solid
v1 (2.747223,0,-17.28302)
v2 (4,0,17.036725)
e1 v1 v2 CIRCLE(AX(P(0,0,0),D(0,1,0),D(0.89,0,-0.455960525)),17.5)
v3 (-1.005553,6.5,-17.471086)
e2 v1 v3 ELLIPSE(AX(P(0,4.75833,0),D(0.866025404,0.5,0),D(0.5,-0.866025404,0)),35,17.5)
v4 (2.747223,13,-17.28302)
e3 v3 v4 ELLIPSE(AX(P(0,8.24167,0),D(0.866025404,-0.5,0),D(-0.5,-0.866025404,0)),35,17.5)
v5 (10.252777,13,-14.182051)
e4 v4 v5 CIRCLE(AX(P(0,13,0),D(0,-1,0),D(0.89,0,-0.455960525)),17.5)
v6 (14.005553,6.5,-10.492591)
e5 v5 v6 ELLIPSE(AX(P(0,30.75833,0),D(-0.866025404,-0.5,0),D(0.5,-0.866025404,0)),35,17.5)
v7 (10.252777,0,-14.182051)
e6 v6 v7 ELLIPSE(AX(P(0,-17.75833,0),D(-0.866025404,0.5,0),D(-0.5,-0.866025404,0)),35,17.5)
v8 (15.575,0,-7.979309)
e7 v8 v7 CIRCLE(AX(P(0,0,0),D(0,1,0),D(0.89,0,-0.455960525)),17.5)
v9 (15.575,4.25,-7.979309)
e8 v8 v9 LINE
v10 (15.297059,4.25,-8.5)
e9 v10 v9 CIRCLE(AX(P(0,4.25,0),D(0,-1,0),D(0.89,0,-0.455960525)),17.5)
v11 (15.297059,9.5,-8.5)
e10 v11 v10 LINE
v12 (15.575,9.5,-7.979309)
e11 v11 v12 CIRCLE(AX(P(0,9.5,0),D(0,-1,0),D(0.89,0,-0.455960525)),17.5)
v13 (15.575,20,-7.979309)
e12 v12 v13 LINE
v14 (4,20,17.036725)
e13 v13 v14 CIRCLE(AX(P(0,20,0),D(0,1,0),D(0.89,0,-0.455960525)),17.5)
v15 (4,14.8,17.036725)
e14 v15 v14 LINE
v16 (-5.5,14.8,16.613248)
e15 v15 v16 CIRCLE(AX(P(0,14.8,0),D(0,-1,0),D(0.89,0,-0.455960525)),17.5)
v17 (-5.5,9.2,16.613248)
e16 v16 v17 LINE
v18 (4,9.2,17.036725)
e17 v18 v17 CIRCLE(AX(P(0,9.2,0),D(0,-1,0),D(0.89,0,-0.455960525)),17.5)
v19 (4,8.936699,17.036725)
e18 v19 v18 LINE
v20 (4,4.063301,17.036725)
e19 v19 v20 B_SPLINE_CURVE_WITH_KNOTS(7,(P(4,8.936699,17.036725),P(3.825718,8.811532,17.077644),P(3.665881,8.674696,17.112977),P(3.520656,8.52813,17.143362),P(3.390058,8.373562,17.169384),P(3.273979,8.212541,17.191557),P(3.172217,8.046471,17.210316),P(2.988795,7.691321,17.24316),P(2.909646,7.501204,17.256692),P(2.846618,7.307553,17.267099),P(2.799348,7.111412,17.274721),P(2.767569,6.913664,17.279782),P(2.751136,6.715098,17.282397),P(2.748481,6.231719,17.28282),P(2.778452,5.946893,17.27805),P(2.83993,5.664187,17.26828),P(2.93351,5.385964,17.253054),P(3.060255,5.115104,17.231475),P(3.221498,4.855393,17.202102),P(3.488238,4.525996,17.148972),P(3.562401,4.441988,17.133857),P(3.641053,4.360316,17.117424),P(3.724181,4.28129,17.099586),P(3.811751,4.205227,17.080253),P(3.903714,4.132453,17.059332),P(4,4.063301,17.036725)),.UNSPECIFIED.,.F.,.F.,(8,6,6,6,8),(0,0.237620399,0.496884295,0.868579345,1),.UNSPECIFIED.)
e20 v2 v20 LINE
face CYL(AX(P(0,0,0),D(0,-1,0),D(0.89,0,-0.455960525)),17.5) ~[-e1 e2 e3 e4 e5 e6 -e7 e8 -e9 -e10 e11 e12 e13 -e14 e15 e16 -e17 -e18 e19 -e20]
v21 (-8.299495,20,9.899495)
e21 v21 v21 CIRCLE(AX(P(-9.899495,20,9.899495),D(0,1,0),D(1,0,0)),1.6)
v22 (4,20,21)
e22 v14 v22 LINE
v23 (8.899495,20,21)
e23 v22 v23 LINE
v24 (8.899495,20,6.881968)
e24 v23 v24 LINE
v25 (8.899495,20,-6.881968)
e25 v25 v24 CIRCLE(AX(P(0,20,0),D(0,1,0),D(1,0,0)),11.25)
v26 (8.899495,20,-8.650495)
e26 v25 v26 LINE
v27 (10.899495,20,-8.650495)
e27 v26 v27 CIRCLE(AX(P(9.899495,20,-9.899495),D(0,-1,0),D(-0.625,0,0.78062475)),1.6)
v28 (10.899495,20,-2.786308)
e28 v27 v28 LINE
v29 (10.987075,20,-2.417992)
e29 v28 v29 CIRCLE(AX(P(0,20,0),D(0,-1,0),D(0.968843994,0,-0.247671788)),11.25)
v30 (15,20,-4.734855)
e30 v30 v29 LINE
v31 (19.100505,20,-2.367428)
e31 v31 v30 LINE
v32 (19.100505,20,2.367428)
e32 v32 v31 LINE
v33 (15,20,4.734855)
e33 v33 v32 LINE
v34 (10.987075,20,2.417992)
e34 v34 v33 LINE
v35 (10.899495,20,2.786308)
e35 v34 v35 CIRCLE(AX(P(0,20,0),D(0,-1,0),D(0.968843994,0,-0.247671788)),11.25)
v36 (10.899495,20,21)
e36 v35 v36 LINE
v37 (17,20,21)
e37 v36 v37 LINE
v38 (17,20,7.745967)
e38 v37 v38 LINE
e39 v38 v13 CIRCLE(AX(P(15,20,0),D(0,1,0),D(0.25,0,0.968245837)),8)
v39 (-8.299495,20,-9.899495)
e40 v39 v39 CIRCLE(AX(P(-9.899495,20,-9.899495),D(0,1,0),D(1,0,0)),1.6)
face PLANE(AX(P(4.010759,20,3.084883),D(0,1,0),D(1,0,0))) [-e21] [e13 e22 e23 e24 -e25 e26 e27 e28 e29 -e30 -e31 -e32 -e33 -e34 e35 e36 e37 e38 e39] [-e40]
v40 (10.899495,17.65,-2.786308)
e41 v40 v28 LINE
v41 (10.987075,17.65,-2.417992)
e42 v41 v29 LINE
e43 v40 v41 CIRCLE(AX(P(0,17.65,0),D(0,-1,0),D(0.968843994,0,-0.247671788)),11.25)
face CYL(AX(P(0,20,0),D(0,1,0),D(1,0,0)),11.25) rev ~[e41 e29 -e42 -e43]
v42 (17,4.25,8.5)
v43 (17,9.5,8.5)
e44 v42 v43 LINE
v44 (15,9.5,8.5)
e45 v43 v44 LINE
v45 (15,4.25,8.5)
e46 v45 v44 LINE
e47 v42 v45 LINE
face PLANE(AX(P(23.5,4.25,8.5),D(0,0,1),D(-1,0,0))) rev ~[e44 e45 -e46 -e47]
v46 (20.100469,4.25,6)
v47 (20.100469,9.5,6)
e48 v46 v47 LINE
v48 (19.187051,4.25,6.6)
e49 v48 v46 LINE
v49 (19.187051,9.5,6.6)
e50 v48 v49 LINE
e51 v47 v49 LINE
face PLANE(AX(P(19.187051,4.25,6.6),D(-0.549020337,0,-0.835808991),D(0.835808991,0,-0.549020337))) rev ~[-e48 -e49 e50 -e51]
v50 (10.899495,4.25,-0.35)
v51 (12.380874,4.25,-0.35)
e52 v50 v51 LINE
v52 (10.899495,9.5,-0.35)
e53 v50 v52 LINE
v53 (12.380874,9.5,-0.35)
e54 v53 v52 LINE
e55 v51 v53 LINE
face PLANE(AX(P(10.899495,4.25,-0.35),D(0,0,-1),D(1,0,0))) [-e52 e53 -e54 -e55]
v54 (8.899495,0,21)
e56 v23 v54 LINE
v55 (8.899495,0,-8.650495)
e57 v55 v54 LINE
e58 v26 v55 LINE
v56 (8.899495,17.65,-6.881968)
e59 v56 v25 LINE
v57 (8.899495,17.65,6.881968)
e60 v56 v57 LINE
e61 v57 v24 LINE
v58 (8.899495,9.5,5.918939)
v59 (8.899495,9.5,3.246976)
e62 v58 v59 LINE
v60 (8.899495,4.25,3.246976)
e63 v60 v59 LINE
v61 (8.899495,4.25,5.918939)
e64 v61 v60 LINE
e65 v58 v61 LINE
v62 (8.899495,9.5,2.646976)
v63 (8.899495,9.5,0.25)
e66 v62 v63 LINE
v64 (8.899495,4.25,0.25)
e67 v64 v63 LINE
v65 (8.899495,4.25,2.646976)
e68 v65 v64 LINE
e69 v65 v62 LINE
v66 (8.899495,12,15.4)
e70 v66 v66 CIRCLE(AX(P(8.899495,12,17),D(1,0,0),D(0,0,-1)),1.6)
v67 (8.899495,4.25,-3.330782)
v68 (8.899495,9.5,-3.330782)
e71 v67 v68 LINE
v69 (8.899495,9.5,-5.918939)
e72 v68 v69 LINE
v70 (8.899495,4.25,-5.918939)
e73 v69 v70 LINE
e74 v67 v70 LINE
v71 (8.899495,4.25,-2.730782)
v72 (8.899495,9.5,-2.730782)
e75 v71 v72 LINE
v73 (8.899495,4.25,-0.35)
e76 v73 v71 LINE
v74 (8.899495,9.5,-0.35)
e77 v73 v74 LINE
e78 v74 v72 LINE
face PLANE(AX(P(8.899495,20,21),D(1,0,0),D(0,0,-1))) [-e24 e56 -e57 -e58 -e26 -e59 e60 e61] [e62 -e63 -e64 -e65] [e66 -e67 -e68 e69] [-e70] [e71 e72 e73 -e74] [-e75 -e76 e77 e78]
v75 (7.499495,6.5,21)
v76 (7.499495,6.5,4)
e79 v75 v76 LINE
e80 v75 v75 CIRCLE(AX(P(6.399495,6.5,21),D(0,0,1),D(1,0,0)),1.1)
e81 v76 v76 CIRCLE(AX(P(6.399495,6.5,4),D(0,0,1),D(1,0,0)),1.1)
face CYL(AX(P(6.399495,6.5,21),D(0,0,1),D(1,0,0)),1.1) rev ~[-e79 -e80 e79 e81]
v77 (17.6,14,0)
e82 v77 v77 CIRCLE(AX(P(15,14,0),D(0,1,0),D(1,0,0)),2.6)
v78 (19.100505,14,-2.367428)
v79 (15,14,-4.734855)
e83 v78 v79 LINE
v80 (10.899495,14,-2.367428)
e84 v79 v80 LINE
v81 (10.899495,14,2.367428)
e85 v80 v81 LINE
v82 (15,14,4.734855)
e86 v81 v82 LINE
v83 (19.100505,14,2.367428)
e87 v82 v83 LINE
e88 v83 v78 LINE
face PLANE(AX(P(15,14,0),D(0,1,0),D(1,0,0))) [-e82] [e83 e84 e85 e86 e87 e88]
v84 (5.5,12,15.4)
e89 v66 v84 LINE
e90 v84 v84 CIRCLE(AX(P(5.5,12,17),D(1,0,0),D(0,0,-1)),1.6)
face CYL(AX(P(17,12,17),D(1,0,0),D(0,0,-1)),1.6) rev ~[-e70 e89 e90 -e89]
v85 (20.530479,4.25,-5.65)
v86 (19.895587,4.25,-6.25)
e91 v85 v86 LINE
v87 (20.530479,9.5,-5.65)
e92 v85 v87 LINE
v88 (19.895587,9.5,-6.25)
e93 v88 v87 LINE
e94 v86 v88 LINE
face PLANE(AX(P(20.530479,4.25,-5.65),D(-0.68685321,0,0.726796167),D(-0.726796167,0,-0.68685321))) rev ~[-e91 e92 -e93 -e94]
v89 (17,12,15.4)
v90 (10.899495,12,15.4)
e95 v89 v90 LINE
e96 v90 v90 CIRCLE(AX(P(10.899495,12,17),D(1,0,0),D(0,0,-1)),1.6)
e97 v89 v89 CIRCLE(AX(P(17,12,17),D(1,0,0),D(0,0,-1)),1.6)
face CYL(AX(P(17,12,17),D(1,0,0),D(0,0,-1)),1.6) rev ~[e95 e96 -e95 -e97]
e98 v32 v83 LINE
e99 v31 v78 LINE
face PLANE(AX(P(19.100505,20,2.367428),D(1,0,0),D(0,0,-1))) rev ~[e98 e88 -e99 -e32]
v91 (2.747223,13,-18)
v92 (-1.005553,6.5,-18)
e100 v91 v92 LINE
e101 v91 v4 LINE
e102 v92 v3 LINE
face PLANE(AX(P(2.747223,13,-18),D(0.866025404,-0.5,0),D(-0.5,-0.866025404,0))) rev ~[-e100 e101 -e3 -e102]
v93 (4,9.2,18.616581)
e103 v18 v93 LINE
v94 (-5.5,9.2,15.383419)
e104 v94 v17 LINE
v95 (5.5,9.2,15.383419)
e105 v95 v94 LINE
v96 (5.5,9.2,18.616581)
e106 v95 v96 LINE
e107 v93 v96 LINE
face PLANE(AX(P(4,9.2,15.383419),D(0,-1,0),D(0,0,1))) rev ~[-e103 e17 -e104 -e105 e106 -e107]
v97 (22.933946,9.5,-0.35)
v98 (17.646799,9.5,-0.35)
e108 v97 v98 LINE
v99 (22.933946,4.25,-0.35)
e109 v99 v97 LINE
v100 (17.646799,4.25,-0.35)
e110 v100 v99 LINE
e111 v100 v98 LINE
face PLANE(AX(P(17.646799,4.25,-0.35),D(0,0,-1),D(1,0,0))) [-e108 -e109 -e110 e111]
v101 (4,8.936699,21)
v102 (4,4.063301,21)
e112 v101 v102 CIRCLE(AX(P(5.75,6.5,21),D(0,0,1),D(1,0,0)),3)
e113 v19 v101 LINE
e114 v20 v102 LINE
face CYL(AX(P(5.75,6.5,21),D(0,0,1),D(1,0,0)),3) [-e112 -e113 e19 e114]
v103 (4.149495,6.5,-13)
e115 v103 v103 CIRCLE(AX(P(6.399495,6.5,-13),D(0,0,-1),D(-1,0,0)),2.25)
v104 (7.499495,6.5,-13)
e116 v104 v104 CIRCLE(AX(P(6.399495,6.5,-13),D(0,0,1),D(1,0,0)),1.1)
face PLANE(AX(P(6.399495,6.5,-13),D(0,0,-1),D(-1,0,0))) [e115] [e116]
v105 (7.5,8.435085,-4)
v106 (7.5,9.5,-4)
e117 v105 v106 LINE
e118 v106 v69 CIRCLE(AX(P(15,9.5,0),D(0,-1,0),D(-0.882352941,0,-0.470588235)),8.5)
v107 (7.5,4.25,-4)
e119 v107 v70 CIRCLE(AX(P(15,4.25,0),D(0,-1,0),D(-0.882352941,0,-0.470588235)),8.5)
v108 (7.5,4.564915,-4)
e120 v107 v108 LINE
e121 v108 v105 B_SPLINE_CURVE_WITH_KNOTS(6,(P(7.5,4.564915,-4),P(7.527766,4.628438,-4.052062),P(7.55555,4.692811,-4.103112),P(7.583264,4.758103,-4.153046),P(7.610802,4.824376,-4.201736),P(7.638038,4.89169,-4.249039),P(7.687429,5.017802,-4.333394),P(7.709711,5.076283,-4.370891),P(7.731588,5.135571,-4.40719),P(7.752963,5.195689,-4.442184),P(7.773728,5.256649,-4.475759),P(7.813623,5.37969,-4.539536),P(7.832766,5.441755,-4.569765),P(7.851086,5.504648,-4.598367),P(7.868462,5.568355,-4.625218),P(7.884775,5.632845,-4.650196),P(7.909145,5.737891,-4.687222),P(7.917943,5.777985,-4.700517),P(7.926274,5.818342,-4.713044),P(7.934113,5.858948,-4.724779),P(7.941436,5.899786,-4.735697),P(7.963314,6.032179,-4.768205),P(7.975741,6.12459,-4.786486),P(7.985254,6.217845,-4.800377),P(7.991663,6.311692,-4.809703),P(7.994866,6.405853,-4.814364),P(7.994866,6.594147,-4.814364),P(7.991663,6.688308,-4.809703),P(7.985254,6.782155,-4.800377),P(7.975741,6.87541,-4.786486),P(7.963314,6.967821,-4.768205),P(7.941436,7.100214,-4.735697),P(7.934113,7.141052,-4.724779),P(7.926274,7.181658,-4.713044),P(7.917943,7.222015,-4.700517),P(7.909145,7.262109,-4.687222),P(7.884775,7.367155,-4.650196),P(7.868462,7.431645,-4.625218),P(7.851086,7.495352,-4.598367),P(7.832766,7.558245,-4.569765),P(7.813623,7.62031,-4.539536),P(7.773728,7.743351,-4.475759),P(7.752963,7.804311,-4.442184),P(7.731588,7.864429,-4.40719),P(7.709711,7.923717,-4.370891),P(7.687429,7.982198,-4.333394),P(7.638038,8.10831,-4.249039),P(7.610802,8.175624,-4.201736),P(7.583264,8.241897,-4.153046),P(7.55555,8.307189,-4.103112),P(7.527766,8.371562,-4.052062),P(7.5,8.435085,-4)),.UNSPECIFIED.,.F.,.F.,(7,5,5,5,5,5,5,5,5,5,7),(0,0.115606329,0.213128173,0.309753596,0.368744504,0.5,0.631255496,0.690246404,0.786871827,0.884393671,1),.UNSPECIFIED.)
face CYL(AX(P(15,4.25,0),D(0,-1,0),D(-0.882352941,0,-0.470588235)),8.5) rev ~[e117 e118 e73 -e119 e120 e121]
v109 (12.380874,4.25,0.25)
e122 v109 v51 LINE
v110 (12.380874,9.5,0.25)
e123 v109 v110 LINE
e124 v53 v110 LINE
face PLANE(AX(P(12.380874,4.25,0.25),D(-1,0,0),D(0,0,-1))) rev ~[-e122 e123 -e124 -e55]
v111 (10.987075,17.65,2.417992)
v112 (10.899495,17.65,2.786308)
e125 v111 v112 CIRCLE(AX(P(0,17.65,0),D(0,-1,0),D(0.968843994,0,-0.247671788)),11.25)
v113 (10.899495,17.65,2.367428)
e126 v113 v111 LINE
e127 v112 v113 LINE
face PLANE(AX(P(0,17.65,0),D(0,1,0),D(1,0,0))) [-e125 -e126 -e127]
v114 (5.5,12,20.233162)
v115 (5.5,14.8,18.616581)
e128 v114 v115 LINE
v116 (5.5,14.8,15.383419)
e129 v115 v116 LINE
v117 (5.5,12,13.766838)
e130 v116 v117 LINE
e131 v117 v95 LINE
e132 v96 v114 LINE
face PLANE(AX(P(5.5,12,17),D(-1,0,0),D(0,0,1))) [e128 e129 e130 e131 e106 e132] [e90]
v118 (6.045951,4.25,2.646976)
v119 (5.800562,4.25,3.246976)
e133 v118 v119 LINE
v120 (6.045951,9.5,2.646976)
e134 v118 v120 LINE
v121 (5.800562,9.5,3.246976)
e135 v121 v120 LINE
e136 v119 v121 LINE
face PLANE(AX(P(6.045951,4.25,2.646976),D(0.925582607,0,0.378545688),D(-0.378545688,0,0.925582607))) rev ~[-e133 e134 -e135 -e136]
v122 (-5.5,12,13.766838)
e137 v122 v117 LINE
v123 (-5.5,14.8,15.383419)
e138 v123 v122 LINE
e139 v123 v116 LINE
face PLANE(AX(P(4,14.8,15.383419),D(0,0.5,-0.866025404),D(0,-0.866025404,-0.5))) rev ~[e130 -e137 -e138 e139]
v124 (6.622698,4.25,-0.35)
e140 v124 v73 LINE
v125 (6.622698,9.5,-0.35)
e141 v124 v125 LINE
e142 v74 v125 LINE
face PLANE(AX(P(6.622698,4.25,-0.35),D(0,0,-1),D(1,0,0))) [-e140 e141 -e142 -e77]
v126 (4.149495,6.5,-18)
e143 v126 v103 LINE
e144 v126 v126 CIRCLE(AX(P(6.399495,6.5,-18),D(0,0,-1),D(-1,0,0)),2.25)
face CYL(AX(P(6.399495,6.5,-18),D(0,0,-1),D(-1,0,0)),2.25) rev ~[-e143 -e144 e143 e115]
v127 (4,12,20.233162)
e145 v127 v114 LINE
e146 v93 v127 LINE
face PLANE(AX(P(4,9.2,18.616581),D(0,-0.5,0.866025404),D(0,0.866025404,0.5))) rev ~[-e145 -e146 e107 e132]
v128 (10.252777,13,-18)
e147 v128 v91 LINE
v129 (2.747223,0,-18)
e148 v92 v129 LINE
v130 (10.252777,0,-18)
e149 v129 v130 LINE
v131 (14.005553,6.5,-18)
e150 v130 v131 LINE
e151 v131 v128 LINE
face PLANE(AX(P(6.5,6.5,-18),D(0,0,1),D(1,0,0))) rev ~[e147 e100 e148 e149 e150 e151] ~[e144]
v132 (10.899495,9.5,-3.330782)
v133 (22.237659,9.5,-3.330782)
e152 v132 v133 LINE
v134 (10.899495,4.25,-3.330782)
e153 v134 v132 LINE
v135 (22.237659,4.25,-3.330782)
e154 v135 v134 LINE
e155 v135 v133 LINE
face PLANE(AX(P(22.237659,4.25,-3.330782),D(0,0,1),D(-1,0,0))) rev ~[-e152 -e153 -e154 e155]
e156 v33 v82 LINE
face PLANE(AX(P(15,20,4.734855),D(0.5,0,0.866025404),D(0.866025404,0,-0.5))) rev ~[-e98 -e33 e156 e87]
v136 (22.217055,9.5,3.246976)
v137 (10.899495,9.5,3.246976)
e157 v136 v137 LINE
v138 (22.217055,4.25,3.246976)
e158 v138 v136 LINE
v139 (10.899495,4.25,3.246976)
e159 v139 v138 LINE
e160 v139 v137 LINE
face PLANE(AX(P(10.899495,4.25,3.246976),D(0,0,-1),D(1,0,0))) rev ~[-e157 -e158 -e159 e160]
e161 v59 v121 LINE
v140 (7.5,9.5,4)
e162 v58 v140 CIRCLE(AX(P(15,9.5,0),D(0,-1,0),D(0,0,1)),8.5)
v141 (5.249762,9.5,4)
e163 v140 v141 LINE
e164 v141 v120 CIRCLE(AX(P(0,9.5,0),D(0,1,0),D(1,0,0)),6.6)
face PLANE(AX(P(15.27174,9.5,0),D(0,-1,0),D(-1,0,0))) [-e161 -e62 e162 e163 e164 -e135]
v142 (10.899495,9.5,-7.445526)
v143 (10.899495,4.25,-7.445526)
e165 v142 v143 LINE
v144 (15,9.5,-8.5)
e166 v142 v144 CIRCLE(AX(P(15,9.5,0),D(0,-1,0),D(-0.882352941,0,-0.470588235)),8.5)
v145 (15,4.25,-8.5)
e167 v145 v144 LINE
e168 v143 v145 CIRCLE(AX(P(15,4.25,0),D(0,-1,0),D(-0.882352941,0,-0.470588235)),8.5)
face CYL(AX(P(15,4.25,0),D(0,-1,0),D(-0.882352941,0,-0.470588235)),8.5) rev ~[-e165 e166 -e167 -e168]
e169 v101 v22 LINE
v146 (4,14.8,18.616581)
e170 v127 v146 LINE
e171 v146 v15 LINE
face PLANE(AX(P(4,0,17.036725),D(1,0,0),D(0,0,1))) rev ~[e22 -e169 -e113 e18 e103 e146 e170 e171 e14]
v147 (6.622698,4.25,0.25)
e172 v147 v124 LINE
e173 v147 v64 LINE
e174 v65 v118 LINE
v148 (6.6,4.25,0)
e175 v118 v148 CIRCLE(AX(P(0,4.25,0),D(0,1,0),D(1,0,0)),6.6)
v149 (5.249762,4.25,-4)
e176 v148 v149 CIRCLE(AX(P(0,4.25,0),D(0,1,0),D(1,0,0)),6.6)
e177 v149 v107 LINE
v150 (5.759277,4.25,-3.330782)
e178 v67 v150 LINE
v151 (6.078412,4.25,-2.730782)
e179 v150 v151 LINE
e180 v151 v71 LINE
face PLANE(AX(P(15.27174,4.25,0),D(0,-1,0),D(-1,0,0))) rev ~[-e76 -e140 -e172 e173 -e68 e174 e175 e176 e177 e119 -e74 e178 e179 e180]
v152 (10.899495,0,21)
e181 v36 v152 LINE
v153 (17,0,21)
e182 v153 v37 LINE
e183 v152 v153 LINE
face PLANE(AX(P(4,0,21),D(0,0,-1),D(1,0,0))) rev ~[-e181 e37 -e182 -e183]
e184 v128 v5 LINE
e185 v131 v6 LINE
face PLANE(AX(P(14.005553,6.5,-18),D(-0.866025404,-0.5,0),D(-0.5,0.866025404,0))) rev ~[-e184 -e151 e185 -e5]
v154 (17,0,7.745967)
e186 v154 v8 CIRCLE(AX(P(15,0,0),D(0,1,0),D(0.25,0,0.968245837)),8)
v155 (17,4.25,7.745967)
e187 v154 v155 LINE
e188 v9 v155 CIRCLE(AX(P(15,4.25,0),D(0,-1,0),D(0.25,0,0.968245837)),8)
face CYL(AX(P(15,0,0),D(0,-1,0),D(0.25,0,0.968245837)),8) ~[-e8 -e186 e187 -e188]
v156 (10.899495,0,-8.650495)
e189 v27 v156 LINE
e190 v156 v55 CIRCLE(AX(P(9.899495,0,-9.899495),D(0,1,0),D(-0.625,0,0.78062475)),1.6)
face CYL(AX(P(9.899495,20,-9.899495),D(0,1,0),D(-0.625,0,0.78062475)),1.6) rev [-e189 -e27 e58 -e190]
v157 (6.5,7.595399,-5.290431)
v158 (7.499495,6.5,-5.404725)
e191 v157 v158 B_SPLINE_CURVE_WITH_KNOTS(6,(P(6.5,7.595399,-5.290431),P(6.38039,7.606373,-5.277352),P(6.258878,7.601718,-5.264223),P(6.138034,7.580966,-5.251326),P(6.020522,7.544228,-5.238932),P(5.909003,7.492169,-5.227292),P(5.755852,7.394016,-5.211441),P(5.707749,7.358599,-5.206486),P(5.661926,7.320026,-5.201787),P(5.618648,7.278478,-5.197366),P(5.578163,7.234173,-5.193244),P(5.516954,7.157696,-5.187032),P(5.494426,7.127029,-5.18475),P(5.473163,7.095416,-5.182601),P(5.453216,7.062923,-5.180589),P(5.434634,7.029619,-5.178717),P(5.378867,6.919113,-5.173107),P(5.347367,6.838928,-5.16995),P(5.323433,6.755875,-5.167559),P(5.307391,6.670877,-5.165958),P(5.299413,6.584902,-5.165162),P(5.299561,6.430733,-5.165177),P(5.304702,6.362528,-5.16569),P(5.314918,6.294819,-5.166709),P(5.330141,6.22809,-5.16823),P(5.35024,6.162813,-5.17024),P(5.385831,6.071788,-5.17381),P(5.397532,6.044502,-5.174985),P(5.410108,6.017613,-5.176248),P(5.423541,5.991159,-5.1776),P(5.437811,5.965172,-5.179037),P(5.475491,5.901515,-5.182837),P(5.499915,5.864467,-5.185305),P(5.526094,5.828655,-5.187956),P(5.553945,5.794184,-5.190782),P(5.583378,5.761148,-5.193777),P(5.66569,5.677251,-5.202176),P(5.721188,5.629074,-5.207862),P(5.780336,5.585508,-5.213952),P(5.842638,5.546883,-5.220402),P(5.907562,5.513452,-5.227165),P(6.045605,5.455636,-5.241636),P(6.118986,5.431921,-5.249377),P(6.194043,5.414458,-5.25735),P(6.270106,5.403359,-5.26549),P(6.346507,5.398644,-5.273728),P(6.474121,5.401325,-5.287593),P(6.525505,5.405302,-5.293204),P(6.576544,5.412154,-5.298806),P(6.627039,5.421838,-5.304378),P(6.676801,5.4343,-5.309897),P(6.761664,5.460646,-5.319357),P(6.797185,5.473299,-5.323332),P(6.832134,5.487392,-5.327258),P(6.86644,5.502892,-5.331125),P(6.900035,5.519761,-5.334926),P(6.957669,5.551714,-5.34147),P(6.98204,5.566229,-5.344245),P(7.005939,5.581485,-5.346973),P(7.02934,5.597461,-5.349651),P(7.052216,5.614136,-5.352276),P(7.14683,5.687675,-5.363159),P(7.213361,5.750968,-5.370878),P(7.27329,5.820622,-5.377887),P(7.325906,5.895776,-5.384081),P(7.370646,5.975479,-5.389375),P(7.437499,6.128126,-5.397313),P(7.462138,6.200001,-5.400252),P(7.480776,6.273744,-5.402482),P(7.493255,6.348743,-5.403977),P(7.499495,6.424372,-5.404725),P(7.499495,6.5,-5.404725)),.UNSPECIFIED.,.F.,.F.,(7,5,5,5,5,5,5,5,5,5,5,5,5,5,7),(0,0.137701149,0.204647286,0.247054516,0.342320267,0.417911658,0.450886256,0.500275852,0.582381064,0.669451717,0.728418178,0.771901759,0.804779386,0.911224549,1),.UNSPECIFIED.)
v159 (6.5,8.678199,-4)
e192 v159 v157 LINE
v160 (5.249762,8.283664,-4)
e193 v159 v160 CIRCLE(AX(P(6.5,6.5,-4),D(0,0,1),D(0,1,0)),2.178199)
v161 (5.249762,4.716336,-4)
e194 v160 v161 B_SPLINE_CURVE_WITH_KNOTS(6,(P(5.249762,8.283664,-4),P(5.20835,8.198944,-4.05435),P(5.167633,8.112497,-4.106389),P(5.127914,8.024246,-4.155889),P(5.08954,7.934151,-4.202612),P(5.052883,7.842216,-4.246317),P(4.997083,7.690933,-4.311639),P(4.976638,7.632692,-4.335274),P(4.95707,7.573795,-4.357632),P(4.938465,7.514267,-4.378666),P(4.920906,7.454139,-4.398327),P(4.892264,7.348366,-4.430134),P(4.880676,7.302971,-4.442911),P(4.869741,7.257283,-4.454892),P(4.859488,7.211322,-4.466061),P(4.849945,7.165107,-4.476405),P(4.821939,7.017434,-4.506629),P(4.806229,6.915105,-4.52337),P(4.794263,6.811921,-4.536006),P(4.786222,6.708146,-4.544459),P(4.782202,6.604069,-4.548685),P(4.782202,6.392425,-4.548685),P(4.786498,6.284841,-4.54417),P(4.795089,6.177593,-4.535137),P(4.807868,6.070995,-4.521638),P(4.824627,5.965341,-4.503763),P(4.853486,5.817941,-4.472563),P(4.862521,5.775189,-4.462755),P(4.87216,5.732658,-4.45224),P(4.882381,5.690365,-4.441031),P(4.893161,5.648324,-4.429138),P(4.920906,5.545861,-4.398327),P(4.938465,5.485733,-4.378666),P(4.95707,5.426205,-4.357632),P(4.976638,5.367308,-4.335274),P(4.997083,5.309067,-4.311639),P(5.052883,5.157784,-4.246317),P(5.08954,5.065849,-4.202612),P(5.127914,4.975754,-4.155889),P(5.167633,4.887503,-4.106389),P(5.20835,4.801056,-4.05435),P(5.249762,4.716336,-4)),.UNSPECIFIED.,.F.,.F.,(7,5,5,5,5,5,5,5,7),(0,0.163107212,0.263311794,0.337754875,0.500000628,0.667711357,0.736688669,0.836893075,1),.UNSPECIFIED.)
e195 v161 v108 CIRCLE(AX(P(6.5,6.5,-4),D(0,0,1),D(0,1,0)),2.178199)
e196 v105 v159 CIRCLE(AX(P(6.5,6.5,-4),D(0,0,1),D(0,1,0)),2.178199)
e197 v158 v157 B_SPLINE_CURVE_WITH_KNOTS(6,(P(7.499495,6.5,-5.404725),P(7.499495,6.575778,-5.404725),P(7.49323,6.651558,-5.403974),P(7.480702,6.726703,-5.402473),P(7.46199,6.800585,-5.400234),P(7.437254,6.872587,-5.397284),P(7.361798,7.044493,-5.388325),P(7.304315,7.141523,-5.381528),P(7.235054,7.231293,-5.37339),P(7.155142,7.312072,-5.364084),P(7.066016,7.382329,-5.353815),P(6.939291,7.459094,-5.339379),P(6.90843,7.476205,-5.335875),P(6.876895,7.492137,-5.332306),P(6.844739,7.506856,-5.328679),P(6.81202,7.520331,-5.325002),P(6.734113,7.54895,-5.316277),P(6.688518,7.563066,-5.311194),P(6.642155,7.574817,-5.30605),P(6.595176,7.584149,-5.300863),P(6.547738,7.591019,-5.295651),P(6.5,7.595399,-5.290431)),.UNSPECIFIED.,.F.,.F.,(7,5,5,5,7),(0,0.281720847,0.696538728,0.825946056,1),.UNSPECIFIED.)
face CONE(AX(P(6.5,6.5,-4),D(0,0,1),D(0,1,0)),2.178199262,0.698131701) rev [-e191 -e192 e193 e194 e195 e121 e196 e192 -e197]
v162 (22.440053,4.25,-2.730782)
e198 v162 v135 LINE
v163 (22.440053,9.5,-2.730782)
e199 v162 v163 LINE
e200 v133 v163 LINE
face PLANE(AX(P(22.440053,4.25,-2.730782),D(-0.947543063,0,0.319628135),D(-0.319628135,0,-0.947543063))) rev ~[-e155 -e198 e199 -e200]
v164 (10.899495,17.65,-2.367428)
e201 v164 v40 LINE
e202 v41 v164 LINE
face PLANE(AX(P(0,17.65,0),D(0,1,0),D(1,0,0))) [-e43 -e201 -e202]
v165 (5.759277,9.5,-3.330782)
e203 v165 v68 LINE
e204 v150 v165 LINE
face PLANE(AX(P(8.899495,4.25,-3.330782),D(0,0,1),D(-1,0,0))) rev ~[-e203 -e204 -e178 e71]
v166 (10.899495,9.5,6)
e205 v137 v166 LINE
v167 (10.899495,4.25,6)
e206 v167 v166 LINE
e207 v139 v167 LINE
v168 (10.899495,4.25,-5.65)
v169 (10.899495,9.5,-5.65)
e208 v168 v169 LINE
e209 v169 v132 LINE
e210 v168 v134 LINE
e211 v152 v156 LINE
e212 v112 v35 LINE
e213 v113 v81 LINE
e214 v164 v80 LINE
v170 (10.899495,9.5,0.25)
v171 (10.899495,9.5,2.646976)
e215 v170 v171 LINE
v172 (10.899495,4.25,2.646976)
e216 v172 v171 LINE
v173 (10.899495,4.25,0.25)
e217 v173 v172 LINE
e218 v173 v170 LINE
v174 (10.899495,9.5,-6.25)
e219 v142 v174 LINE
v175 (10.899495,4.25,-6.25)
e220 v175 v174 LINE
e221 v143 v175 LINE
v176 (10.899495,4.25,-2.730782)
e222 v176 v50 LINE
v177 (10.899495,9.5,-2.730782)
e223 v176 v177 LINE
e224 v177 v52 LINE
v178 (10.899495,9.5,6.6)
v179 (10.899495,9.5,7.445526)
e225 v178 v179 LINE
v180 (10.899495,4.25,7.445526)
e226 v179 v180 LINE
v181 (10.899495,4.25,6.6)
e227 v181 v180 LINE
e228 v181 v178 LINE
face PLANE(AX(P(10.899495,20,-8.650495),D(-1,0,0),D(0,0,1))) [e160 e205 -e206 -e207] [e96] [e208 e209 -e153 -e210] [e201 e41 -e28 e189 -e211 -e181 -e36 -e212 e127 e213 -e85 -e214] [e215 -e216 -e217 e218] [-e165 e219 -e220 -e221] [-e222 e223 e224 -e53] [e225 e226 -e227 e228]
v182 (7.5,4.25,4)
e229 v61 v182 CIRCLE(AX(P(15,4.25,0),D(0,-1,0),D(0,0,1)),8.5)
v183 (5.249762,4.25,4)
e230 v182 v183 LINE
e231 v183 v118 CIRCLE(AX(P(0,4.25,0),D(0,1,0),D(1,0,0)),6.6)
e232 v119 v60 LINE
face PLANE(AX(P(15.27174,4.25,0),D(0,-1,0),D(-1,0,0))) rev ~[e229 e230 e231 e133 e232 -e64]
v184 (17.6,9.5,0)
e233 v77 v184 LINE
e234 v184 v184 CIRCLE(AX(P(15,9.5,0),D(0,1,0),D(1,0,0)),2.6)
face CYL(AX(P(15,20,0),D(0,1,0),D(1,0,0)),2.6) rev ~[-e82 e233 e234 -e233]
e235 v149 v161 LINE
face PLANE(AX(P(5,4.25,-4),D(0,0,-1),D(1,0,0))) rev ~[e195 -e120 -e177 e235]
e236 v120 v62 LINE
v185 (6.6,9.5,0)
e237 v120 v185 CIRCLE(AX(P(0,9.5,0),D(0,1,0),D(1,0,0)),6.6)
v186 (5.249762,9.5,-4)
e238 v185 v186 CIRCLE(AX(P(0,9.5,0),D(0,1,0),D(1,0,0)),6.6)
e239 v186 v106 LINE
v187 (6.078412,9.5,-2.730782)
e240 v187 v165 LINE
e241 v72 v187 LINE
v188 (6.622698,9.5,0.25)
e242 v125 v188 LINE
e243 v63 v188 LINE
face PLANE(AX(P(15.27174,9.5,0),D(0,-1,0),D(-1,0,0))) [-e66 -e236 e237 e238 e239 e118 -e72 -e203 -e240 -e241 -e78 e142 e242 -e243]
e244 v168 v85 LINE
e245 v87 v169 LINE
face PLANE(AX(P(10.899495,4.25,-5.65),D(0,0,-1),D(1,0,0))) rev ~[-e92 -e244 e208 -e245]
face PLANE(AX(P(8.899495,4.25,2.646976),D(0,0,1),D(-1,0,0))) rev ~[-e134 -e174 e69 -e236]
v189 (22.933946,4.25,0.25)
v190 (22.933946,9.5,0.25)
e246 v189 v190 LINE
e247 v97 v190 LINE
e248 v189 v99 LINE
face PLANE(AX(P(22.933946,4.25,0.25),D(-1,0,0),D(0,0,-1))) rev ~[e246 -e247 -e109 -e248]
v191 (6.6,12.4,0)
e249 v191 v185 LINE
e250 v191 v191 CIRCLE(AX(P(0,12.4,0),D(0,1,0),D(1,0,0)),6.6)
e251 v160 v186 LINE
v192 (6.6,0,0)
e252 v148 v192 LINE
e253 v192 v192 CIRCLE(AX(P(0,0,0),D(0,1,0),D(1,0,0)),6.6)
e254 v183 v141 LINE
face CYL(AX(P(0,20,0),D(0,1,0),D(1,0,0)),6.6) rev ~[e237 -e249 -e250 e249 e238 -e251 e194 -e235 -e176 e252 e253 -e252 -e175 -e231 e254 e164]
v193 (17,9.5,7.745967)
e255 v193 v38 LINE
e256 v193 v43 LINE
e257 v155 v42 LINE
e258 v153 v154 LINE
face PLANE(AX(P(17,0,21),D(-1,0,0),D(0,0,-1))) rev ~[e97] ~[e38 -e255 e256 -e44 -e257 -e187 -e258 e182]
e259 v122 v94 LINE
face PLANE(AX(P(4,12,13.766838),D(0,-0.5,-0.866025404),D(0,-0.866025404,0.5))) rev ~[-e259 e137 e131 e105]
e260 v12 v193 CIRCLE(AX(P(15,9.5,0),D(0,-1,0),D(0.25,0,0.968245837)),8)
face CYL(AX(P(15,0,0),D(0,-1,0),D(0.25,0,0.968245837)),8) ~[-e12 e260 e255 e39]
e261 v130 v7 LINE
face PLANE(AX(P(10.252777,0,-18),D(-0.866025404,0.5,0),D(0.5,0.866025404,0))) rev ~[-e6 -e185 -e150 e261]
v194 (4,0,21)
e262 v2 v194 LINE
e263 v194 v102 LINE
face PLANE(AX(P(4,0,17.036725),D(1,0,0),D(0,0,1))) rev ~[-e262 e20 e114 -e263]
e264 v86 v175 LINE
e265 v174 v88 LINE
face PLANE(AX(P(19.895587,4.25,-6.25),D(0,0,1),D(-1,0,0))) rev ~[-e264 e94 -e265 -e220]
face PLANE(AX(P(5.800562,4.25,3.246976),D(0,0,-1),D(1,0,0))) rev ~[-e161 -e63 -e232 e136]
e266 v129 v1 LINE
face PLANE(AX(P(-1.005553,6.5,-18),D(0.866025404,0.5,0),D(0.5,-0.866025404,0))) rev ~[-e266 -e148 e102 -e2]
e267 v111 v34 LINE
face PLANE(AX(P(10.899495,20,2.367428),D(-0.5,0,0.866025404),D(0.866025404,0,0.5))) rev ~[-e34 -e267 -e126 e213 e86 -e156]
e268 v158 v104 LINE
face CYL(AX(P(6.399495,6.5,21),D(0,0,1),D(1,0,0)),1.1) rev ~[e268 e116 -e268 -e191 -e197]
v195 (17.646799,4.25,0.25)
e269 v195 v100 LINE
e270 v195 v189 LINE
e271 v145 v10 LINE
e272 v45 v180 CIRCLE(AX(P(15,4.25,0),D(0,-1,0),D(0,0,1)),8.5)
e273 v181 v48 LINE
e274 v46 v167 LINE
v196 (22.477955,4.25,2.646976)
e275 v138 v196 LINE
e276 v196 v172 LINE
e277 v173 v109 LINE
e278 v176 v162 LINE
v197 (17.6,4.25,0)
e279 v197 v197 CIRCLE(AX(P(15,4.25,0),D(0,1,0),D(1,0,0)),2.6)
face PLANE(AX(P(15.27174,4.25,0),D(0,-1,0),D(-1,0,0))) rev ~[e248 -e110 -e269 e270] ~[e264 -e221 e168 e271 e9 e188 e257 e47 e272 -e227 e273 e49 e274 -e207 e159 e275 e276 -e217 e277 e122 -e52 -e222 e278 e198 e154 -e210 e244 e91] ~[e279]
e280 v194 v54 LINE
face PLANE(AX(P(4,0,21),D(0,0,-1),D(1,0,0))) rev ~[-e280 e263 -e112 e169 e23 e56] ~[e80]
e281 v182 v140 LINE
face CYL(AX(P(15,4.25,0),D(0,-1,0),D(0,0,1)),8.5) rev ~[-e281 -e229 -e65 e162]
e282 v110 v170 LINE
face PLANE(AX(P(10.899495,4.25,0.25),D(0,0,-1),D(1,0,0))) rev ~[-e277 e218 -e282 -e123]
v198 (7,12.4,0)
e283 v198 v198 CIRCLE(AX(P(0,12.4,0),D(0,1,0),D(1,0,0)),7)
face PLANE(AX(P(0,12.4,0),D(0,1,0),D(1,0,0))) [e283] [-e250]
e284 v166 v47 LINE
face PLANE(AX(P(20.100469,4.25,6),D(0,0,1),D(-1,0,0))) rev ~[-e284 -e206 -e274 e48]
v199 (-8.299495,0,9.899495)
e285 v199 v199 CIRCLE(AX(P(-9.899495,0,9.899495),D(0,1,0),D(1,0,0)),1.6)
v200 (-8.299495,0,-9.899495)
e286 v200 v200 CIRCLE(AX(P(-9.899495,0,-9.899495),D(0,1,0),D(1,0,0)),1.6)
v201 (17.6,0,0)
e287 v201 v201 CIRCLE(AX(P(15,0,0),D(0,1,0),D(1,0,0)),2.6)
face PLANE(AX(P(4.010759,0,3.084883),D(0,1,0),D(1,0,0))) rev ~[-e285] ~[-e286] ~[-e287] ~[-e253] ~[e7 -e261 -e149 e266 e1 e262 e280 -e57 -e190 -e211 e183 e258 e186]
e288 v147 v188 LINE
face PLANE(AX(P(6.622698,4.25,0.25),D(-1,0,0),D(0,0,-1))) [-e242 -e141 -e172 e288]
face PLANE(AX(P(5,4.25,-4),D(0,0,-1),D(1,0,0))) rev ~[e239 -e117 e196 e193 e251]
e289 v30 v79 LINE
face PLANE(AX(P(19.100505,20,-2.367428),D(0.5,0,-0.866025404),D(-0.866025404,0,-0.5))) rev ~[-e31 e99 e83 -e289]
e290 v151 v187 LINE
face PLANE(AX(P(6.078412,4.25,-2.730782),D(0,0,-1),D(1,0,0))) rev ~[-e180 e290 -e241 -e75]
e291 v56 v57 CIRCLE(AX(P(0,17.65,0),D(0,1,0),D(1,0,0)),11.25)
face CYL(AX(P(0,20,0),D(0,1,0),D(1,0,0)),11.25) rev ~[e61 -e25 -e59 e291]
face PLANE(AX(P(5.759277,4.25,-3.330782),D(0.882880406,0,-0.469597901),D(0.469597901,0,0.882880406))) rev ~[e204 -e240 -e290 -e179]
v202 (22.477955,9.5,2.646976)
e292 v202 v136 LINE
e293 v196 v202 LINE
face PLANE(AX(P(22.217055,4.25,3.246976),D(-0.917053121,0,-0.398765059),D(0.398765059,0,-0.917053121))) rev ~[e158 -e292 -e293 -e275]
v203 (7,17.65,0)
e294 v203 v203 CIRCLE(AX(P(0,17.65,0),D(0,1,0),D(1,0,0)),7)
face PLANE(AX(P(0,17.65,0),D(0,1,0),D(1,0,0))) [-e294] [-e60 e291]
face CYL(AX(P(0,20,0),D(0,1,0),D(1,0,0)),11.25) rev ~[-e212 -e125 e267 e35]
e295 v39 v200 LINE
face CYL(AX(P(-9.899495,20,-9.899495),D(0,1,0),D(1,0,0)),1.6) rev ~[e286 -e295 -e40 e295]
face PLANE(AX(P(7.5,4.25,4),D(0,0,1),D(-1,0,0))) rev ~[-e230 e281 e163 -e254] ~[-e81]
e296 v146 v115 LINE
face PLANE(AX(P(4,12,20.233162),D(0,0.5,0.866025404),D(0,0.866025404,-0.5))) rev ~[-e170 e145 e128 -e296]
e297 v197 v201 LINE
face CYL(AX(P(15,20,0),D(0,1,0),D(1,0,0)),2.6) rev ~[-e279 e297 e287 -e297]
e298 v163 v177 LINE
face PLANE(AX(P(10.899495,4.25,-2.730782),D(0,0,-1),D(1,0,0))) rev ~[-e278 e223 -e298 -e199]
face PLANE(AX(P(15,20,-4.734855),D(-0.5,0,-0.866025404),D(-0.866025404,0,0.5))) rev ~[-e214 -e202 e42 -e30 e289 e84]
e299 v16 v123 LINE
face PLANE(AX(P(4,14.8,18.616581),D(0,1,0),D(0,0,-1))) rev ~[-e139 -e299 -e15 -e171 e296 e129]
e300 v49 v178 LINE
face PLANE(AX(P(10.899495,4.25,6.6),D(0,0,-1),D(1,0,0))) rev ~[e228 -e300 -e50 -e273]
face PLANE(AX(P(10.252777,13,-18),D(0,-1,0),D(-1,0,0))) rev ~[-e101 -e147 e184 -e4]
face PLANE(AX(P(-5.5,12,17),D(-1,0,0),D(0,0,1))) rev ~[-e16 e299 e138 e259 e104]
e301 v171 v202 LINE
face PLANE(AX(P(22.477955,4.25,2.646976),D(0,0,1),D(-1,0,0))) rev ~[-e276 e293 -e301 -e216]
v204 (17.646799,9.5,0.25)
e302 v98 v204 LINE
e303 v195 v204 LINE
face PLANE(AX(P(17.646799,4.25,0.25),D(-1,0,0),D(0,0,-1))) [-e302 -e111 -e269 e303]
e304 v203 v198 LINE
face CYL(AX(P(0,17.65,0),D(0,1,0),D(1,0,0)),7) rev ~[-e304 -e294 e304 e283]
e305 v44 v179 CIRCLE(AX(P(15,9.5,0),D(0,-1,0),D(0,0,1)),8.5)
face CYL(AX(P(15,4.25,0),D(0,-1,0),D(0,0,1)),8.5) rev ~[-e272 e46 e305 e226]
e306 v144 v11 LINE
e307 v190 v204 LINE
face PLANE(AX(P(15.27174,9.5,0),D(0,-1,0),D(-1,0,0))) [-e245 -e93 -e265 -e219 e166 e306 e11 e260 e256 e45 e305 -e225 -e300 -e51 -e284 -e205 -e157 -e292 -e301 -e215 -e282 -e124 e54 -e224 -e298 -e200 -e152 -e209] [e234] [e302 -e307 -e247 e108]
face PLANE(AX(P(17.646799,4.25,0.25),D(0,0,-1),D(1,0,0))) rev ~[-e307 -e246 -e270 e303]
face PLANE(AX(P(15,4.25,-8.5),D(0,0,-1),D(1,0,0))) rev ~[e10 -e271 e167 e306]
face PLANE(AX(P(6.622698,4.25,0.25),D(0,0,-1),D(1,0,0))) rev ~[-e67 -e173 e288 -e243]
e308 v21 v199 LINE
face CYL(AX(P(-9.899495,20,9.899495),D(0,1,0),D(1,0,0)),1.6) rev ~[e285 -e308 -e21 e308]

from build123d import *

# Parameters (mm, degrees)
BOSS_EXTRUDE1_DEPTH     = 20
CUT_EXTRUDE1_REACH      = 22
SKETCH2_R               = 6.6
SKETCH2_R_2             = 1.6
SKETCH2_R_3             = 2.6
SKETCH3_R               = 11.25
CUT_EXTRUDE2_DEPTH      = 2.35
SKETCH4_R               = 7
CUT_EXTRUDE3_DEPTH      = 5.25
CUT_EXTRUDE4_DEPTH      = 6
CUT_EXTRUDE5_DEPTH      = 5.25
BOSS_EXTRUDE2_REACH     = 40.5
SKETCH10_R              = 3
BOSS_EXTRUDE3_REACH     = 41
SKETCH8_R               = 1.1
CUT_EXTRUDE6_DEPTH      = 40
SKETCH14_R              = 2.25
CUT_EXTRUDE7_DEPTH      = 5
SKETCH15_R              = 1.6
CUT_EXTRUDE8_DEPTH      = 13
CUT_EXTRUDE9_DEPTH      = 9.5
CUT_EXTRUDE9_DEPTH_BACK = 1.5
BOSS_EXTRUDE4_REACH     = 17.75
SKETCH17_W              = 1.481378883
SKETCH17_H              = 0.6
SKETCH17_W_2            = 5.287146776
SKETCH17_W_3            = 2.276797121


with BuildPart() as part:
    # Sketch1 → Boss-Extrude1 (new body)
    with BuildSketch(Plane(origin=(0, 0, 0), x_dir=(1, 0, 0), z_dir=(0, 1, 0))):
        with BuildLine():
            Line((4, -21), (17, -21))
            Line((17, -21), (17, -7.745966692))
            ThreePointArc((17, -7.745966692), (22.967354114, 0.721989217), (15.575, 7.979309181))
            ThreePointArc((15.575, 7.979309181), (-15.882243174, 7.348765322), (4, -17.036725037))
            Line((4, -17.036725037), (4, -21))
        make_face()
    extrude(amount=BOSS_EXTRUDE1_DEPTH)

    # Sketch2 → Cut-Extrude1 (cut, up to next)
    with BuildSketch(Plane(origin=(0, 20, 0), x_dir=(1, 0, 0), z_dir=(0, 1, 0)), mode=Mode.PRIVATE) as cut_extrude1_sk1:
        Circle(SKETCH2_R)
    cut_extrude1_tool1 = extrude(cut_extrude1_sk1.sketch, amount=-CUT_EXTRUDE1_REACH, mode=Mode.PRIVATE) & part.part
    add(cut_extrude1_tool1.solids().sort_by_distance((0, 20, 0))[0], mode=Mode.SUBTRACT)
    # Sketch2 → Cut-Extrude1 (cut, up to next)
    with BuildSketch(Plane(origin=(0, 20, 0), x_dir=(1, 0, 0), z_dir=(0, 1, 0)), mode=Mode.PRIVATE) as cut_extrude1_sk2:
        with Locations((-9.899494937, 9.899494937)):
            Circle(SKETCH2_R_2)
    cut_extrude1_tool2 = extrude(cut_extrude1_sk2.sketch, amount=-CUT_EXTRUDE1_REACH, mode=Mode.PRIVATE) & part.part
    add(cut_extrude1_tool2.solids().sort_by_distance((-9.899495, 20, -9.899495))[0], mode=Mode.SUBTRACT)
    # Sketch2 → Cut-Extrude1 (cut, up to next)
    with BuildSketch(Plane(origin=(0, 20, 0), x_dir=(1, 0, 0), z_dir=(0, 1, 0)), mode=Mode.PRIVATE) as cut_extrude1_sk3:
        with Locations((-9.899494937, -9.899494937)):
            Circle(SKETCH2_R_2)
    cut_extrude1_tool3 = extrude(cut_extrude1_sk3.sketch, amount=-CUT_EXTRUDE1_REACH, mode=Mode.PRIVATE) & part.part
    add(cut_extrude1_tool3.solids().sort_by_distance((-9.899495, 20, 9.899495))[0], mode=Mode.SUBTRACT)
    # Sketch2 → Cut-Extrude1 (cut, up to next)
    with BuildSketch(Plane(origin=(0, 20, 0), x_dir=(1, 0, 0), z_dir=(0, 1, 0)), mode=Mode.PRIVATE) as cut_extrude1_sk4:
        with Locations((15, 0)):
            Circle(SKETCH2_R_3)
    cut_extrude1_tool4 = extrude(cut_extrude1_sk4.sketch, amount=-CUT_EXTRUDE1_REACH, mode=Mode.PRIVATE) & part.part
    add(cut_extrude1_tool4.solids().sort_by_distance((15, 20, 0))[0], mode=Mode.SUBTRACT)
    # Sketch2 → Cut-Extrude1 (cut, up to next)
    with BuildSketch(Plane(origin=(0, 20, 0), x_dir=(1, 0, 0), z_dir=(0, 1, 0)), mode=Mode.PRIVATE) as cut_extrude1_sk5:
        with BuildLine():
            Line((8.899494937, -21), (8.899494937, 8.650495337))
            ThreePointArc((8.899494937, 8.650495337), (9.899494937, 11.499494937), (10.899494937, 8.650495337))
            Line((10.899494937, 8.650495337), (10.899494937, -21))
            Line((10.899494937, -21), (8.899494937, -21))
        make_face()
    cut_extrude1_tool5 = extrude(cut_extrude1_sk5.sketch, amount=-CUT_EXTRUDE1_REACH, mode=Mode.PRIVATE) & part.part
    add(cut_extrude1_tool5.solids().sort_by_distance((9.899495, 20, 4.346591))[0], mode=Mode.SUBTRACT)

    # Sketch3 → Cut-Extrude2 (cut)
    with BuildSketch(Plane(origin=(0, 20, 0), x_dir=(1, 0, 0), z_dir=(0, 1, 0))):
        Circle(SKETCH3_R)
    extrude(amount=-CUT_EXTRUDE2_DEPTH, mode=Mode.SUBTRACT)

    # Sketch4 → Cut-Extrude3 (cut)
    with BuildSketch(Plane(origin=(0, 17.65, 0), x_dir=(1, 0, 0), z_dir=(0, 1, 0))):
        Circle(SKETCH4_R)
    extrude(amount=-CUT_EXTRUDE3_DEPTH, mode=Mode.SUBTRACT)

    # Sketch5 → Cut-Extrude4 (cut)
    with BuildSketch(Plane(origin=(0, 20, 0), x_dir=(1, 0, 0), z_dir=(0, 1, 0))):
        Polygon((19.100505063, 2.367427702), (15, 4.734855404), (10.899494937, 2.367427702), (10.899494937, -2.367427702), (15, -4.734855404), (19.100505063, -2.367427702), align=None)
    extrude(amount=-CUT_EXTRUDE4_DEPTH, mode=Mode.SUBTRACT)

    # Sketch6 → Cut-Extrude5 (cut)
    with BuildSketch(Plane(origin=(0, 4.25, 0), x_dir=(1, 0, 0), z_dir=(0, 1, 0))):
        with BuildLine():
            Line((15, 8.5), (23.5, 8.5))
            Line((23.5, 8.5), (23.5, 0))
            Line((23.5, 0), (23.5, -8.5))
            Line((23.5, -8.5), (15, -8.5))
            ThreePointArc((15, -8.5), (10.626786079, -7.288689869), (7.5, -4))
            Line((7.5, -4), (5, -4))
            Line((5, -4), (5, 0))
            Line((5, 0), (5, 4))
            Line((5, 4), (7.5, 4))
            ThreePointArc((7.5, 4), (10.626786079, 7.288689869), (15, 8.5))
        make_face()
    extrude(amount=CUT_EXTRUDE5_DEPTH, mode=Mode.SUBTRACT)

    # Sketch10 → Boss-Extrude2 (add, up to next)
    with BuildSketch(Plane.XY.offset(21), mode=Mode.PRIVATE) as boss_extrude2_sk1:
        with Locations((5.75, 6.5)):
            Circle(SKETCH10_R)
    boss_extrude2_tool1 = extrude(boss_extrude2_sk1.sketch, amount=-BOSS_EXTRUDE2_REACH, mode=Mode.PRIVATE) - part.part
    add(boss_extrude2_tool1.solids().sort_by_distance((5.75, 6.5, 21))[0])

    # Sketch11 → Boss-Extrude3 (add, up to next)
    with BuildSketch(Plane.XY.offset(-18), mode=Mode.PRIVATE) as boss_extrude3_sk1:
        Polygon((-1.005553499, 6.5), (2.74722325, 0), (10.25277675, 0), (14.005553499, 6.5), (10.25277675, 13), (2.74722325, 13), align=None)
    boss_extrude3_tool1 = extrude(boss_extrude3_sk1.sketch, amount=BOSS_EXTRUDE3_REACH, mode=Mode.PRIVATE) - part.part
    add(boss_extrude3_tool1.solids().sort_by_distance((6.5, 6.5, -18))[0])

    # Sketch8 → Cut-Extrude6 (cut, through all)
    with BuildSketch(Plane.XY.offset(21)):
        with Locations((6.399494937, 6.5)):
            Circle(SKETCH8_R)
    extrude(amount=-CUT_EXTRUDE6_DEPTH, mode=Mode.SUBTRACT)

    # Sketch13 → Cut-Revolve1 (revolve, cut)
    with BuildSketch(Plane.ZY.offset(-6.5)):
        Polygon((-6, 6.5), (-4, 6.5), (-4, 8.678199262), (-6, 7), align=None)
    revolve(axis=Axis((6.5, 6.5, -18), (0, 0, 1)), mode=Mode.SUBTRACT)

    # Sketch14 → Cut-Extrude7 (cut)
    with BuildSketch(Plane(origin=(0, 0, -18), x_dir=(-1, 0, 0), z_dir=(0, 0, -1))):
        with Locations((-6.399494937, 6.5)):
            Circle(SKETCH14_R)
    extrude(amount=-CUT_EXTRUDE7_DEPTH, mode=Mode.SUBTRACT)

    # Sketch15 → Cut-Extrude8 (cut)
    with BuildSketch(Plane(origin=(17, 0, 0), x_dir=(0, 0, -1), z_dir=(1, 0, 0))):
        with Locations((-17, 12)):
            Circle(SKETCH15_R)
    extrude(amount=-CUT_EXTRUDE8_DEPTH, mode=Mode.SUBTRACT)

    # Sketch16 → Cut-Extrude9 (cut, two sides)
    with BuildSketch(Plane.ZY.offset(-4)) as cut_extrude9_sk:
        Polygon((20.233161507, 12), (18.616580754, 14.8), (15.383419246, 14.8), (13.766838493, 12), (15.383419246, 9.2), (18.616580754, 9.2), align=None)
    extrude(amount=CUT_EXTRUDE9_DEPTH, mode=Mode.SUBTRACT)
    extrude(cut_extrude9_sk.sketch, amount=-CUT_EXTRUDE9_DEPTH_BACK, mode=Mode.SUBTRACT)

    # Sketch17 → Boss-Extrude4 (add, up to next)
    with BuildSketch(Plane(origin=(0, 4.25, 0), x_dir=(1, 0, 0), z_dir=(0, 1, 0)), mode=Mode.PRIVATE) as boss_extrude4_sk1:
        with Locations((11.640184379, 0.05)):
            Rectangle(SKETCH17_W, SKETCH17_H)
    boss_extrude4_tool1 = extrude(boss_extrude4_sk1.sketch, amount=BOSS_EXTRUDE4_REACH, mode=Mode.PRIVATE) - part.part
    add(boss_extrude4_tool1.solids().sort_by_distance((11.640184, 4.25, -0.05))[0])
    # Sketch17 → Boss-Extrude4 (add, up to next)
    with BuildSketch(Plane(origin=(0, 4.25, 0), x_dir=(1, 0, 0), z_dir=(0, 1, 0)), mode=Mode.PRIVATE) as boss_extrude4_sk2:
        Polygon((22.23765915, 3.330781542), (10.899494937, 3.330781542), (10.899494937, 2.730781542), (22.440052992, 2.730781542), align=None)
    boss_extrude4_tool2 = extrude(boss_extrude4_sk2.sketch, amount=BOSS_EXTRUDE4_REACH, mode=Mode.PRIVATE) - part.part
    add(boss_extrude4_tool2.solids().sort_by_distance((16.619325, 4.25, -3.029897))[0])
    # Sketch17 → Boss-Extrude4 (add, up to next)
    with BuildSketch(Plane(origin=(0, 4.25, 0), x_dir=(1, 0, 0), z_dir=(0, 1, 0)), mode=Mode.PRIVATE) as boss_extrude4_sk3:
        Polygon((22.477954877, -2.64697567), (10.899494937, -2.64697567), (10.899494937, -3.24697567), (22.217055012, -3.24697567), align=None)
    boss_extrude4_tool3 = extrude(boss_extrude4_sk3.sketch, amount=BOSS_EXTRUDE4_REACH, mode=Mode.PRIVATE) - part.part
    add(boss_extrude4_tool3.solids().sort_by_distance((16.623748, 4.25, 2.945836))[0])
    # Sketch17 → Boss-Extrude4 (add, up to next)
    with BuildSketch(Plane(origin=(0, 4.25, 0), x_dir=(1, 0, 0), z_dir=(0, 1, 0)), mode=Mode.PRIVATE) as boss_extrude4_sk4:
        Polygon((20.100469452, -6), (10.899494937, -6), (10.899494937, -6.6), (19.187050839, -6.6), align=None)
    boss_extrude4_tool4 = extrude(boss_extrude4_sk4.sketch, amount=BOSS_EXTRUDE4_REACH, mode=Mode.PRIVATE) - part.part
    add(boss_extrude4_tool4.solids().sort_by_distance((15.275603, 4.25, 6.294777))[0])
    # Sketch17 → Boss-Extrude4 (add, up to next)
    with BuildSketch(Plane(origin=(0, 4.25, 0), x_dir=(1, 0, 0), z_dir=(0, 1, 0)), mode=Mode.PRIVATE) as boss_extrude4_sk5:
        with Locations((20.290372632, 0.05)):
            Rectangle(SKETCH17_W_2, SKETCH17_H)
    boss_extrude4_tool5 = extrude(boss_extrude4_sk5.sketch, amount=BOSS_EXTRUDE4_REACH, mode=Mode.PRIVATE) - part.part
    add(boss_extrude4_tool5.solids().sort_by_distance((20.290373, 4.25, -0.05))[0])
    # Sketch17 → Boss-Extrude4 (add, up to next)
    with BuildSketch(Plane(origin=(0, 4.25, 0), x_dir=(1, 0, 0), z_dir=(0, 1, 0)), mode=Mode.PRIVATE) as boss_extrude4_sk6:
        Polygon((10.899494937, 6.25), (10.899494937, 5.65), (20.530479048, 5.65), (19.895586914, 6.25), align=None)
    boss_extrude4_tool6 = extrude(boss_extrude4_sk6.sketch, amount=BOSS_EXTRUDE4_REACH, mode=Mode.PRIVATE) - part.part
    add(boss_extrude4_tool6.solids().sort_by_distance((15.558067, 4.25, -5.946592))[0])
    # Sketch17 → Boss-Extrude4 (add, up to next)
    with BuildSketch(Plane(origin=(0, 4.25, 0), x_dir=(1, 0, 0), z_dir=(0, 1, 0)), mode=Mode.PRIVATE) as boss_extrude4_sk7:
        Polygon((8.899494937, -3.24697567), (8.899494937, -2.64697567), (6.922653913, -2.64697567), (6.045950695, -2.64697567), (5.800562103, -3.24697567), (7.144610194, -3.24697567), align=None)
    boss_extrude4_tool7 = extrude(boss_extrude4_sk7.sketch, amount=BOSS_EXTRUDE4_REACH, mode=Mode.PRIVATE) - part.part
    add(boss_extrude4_tool7.solids().sort_by_distance((7.410533, 4.25, 2.951098))[0])
    # Sketch17 → Boss-Extrude4 (add, up to next)
    with BuildSketch(Plane(origin=(0, 4.25, 0), x_dir=(1, 0, 0), z_dir=(0, 1, 0)), mode=Mode.PRIVATE) as boss_extrude4_sk8:
        Polygon((8.899494937, 3.330781542), (7.179776581, 3.330781542), (5.759276556, 3.330781542), (6.078412351, 2.730781542), (6.950600509, 2.730781542), (8.899494937, 2.730781542), align=None)
    boss_extrude4_tool8 = extrude(boss_extrude4_sk8.sketch, amount=BOSS_EXTRUDE4_REACH, mode=Mode.PRIVATE) - part.part
    add(boss_extrude4_tool8.solids().sort_by_distance((7.407746, 4.25, -3.036135))[0])
    # Sketch17 → Boss-Extrude4 (add, up to next)
    with BuildSketch(Plane(origin=(0, 4.25, 0), x_dir=(1, 0, 0), z_dir=(0, 1, 0)), mode=Mode.PRIVATE) as boss_extrude4_sk9:
        with Locations((7.761096377, 0.05)):
            Rectangle(SKETCH17_W_3, SKETCH17_H)
    boss_extrude4_tool9 = extrude(boss_extrude4_sk9.sketch, amount=BOSS_EXTRUDE4_REACH, mode=Mode.PRIVATE) - part.part
    add(boss_extrude4_tool9.solids().sort_by_distance((7.761096, 4.25, -0.05))[0])


solid = part.part
